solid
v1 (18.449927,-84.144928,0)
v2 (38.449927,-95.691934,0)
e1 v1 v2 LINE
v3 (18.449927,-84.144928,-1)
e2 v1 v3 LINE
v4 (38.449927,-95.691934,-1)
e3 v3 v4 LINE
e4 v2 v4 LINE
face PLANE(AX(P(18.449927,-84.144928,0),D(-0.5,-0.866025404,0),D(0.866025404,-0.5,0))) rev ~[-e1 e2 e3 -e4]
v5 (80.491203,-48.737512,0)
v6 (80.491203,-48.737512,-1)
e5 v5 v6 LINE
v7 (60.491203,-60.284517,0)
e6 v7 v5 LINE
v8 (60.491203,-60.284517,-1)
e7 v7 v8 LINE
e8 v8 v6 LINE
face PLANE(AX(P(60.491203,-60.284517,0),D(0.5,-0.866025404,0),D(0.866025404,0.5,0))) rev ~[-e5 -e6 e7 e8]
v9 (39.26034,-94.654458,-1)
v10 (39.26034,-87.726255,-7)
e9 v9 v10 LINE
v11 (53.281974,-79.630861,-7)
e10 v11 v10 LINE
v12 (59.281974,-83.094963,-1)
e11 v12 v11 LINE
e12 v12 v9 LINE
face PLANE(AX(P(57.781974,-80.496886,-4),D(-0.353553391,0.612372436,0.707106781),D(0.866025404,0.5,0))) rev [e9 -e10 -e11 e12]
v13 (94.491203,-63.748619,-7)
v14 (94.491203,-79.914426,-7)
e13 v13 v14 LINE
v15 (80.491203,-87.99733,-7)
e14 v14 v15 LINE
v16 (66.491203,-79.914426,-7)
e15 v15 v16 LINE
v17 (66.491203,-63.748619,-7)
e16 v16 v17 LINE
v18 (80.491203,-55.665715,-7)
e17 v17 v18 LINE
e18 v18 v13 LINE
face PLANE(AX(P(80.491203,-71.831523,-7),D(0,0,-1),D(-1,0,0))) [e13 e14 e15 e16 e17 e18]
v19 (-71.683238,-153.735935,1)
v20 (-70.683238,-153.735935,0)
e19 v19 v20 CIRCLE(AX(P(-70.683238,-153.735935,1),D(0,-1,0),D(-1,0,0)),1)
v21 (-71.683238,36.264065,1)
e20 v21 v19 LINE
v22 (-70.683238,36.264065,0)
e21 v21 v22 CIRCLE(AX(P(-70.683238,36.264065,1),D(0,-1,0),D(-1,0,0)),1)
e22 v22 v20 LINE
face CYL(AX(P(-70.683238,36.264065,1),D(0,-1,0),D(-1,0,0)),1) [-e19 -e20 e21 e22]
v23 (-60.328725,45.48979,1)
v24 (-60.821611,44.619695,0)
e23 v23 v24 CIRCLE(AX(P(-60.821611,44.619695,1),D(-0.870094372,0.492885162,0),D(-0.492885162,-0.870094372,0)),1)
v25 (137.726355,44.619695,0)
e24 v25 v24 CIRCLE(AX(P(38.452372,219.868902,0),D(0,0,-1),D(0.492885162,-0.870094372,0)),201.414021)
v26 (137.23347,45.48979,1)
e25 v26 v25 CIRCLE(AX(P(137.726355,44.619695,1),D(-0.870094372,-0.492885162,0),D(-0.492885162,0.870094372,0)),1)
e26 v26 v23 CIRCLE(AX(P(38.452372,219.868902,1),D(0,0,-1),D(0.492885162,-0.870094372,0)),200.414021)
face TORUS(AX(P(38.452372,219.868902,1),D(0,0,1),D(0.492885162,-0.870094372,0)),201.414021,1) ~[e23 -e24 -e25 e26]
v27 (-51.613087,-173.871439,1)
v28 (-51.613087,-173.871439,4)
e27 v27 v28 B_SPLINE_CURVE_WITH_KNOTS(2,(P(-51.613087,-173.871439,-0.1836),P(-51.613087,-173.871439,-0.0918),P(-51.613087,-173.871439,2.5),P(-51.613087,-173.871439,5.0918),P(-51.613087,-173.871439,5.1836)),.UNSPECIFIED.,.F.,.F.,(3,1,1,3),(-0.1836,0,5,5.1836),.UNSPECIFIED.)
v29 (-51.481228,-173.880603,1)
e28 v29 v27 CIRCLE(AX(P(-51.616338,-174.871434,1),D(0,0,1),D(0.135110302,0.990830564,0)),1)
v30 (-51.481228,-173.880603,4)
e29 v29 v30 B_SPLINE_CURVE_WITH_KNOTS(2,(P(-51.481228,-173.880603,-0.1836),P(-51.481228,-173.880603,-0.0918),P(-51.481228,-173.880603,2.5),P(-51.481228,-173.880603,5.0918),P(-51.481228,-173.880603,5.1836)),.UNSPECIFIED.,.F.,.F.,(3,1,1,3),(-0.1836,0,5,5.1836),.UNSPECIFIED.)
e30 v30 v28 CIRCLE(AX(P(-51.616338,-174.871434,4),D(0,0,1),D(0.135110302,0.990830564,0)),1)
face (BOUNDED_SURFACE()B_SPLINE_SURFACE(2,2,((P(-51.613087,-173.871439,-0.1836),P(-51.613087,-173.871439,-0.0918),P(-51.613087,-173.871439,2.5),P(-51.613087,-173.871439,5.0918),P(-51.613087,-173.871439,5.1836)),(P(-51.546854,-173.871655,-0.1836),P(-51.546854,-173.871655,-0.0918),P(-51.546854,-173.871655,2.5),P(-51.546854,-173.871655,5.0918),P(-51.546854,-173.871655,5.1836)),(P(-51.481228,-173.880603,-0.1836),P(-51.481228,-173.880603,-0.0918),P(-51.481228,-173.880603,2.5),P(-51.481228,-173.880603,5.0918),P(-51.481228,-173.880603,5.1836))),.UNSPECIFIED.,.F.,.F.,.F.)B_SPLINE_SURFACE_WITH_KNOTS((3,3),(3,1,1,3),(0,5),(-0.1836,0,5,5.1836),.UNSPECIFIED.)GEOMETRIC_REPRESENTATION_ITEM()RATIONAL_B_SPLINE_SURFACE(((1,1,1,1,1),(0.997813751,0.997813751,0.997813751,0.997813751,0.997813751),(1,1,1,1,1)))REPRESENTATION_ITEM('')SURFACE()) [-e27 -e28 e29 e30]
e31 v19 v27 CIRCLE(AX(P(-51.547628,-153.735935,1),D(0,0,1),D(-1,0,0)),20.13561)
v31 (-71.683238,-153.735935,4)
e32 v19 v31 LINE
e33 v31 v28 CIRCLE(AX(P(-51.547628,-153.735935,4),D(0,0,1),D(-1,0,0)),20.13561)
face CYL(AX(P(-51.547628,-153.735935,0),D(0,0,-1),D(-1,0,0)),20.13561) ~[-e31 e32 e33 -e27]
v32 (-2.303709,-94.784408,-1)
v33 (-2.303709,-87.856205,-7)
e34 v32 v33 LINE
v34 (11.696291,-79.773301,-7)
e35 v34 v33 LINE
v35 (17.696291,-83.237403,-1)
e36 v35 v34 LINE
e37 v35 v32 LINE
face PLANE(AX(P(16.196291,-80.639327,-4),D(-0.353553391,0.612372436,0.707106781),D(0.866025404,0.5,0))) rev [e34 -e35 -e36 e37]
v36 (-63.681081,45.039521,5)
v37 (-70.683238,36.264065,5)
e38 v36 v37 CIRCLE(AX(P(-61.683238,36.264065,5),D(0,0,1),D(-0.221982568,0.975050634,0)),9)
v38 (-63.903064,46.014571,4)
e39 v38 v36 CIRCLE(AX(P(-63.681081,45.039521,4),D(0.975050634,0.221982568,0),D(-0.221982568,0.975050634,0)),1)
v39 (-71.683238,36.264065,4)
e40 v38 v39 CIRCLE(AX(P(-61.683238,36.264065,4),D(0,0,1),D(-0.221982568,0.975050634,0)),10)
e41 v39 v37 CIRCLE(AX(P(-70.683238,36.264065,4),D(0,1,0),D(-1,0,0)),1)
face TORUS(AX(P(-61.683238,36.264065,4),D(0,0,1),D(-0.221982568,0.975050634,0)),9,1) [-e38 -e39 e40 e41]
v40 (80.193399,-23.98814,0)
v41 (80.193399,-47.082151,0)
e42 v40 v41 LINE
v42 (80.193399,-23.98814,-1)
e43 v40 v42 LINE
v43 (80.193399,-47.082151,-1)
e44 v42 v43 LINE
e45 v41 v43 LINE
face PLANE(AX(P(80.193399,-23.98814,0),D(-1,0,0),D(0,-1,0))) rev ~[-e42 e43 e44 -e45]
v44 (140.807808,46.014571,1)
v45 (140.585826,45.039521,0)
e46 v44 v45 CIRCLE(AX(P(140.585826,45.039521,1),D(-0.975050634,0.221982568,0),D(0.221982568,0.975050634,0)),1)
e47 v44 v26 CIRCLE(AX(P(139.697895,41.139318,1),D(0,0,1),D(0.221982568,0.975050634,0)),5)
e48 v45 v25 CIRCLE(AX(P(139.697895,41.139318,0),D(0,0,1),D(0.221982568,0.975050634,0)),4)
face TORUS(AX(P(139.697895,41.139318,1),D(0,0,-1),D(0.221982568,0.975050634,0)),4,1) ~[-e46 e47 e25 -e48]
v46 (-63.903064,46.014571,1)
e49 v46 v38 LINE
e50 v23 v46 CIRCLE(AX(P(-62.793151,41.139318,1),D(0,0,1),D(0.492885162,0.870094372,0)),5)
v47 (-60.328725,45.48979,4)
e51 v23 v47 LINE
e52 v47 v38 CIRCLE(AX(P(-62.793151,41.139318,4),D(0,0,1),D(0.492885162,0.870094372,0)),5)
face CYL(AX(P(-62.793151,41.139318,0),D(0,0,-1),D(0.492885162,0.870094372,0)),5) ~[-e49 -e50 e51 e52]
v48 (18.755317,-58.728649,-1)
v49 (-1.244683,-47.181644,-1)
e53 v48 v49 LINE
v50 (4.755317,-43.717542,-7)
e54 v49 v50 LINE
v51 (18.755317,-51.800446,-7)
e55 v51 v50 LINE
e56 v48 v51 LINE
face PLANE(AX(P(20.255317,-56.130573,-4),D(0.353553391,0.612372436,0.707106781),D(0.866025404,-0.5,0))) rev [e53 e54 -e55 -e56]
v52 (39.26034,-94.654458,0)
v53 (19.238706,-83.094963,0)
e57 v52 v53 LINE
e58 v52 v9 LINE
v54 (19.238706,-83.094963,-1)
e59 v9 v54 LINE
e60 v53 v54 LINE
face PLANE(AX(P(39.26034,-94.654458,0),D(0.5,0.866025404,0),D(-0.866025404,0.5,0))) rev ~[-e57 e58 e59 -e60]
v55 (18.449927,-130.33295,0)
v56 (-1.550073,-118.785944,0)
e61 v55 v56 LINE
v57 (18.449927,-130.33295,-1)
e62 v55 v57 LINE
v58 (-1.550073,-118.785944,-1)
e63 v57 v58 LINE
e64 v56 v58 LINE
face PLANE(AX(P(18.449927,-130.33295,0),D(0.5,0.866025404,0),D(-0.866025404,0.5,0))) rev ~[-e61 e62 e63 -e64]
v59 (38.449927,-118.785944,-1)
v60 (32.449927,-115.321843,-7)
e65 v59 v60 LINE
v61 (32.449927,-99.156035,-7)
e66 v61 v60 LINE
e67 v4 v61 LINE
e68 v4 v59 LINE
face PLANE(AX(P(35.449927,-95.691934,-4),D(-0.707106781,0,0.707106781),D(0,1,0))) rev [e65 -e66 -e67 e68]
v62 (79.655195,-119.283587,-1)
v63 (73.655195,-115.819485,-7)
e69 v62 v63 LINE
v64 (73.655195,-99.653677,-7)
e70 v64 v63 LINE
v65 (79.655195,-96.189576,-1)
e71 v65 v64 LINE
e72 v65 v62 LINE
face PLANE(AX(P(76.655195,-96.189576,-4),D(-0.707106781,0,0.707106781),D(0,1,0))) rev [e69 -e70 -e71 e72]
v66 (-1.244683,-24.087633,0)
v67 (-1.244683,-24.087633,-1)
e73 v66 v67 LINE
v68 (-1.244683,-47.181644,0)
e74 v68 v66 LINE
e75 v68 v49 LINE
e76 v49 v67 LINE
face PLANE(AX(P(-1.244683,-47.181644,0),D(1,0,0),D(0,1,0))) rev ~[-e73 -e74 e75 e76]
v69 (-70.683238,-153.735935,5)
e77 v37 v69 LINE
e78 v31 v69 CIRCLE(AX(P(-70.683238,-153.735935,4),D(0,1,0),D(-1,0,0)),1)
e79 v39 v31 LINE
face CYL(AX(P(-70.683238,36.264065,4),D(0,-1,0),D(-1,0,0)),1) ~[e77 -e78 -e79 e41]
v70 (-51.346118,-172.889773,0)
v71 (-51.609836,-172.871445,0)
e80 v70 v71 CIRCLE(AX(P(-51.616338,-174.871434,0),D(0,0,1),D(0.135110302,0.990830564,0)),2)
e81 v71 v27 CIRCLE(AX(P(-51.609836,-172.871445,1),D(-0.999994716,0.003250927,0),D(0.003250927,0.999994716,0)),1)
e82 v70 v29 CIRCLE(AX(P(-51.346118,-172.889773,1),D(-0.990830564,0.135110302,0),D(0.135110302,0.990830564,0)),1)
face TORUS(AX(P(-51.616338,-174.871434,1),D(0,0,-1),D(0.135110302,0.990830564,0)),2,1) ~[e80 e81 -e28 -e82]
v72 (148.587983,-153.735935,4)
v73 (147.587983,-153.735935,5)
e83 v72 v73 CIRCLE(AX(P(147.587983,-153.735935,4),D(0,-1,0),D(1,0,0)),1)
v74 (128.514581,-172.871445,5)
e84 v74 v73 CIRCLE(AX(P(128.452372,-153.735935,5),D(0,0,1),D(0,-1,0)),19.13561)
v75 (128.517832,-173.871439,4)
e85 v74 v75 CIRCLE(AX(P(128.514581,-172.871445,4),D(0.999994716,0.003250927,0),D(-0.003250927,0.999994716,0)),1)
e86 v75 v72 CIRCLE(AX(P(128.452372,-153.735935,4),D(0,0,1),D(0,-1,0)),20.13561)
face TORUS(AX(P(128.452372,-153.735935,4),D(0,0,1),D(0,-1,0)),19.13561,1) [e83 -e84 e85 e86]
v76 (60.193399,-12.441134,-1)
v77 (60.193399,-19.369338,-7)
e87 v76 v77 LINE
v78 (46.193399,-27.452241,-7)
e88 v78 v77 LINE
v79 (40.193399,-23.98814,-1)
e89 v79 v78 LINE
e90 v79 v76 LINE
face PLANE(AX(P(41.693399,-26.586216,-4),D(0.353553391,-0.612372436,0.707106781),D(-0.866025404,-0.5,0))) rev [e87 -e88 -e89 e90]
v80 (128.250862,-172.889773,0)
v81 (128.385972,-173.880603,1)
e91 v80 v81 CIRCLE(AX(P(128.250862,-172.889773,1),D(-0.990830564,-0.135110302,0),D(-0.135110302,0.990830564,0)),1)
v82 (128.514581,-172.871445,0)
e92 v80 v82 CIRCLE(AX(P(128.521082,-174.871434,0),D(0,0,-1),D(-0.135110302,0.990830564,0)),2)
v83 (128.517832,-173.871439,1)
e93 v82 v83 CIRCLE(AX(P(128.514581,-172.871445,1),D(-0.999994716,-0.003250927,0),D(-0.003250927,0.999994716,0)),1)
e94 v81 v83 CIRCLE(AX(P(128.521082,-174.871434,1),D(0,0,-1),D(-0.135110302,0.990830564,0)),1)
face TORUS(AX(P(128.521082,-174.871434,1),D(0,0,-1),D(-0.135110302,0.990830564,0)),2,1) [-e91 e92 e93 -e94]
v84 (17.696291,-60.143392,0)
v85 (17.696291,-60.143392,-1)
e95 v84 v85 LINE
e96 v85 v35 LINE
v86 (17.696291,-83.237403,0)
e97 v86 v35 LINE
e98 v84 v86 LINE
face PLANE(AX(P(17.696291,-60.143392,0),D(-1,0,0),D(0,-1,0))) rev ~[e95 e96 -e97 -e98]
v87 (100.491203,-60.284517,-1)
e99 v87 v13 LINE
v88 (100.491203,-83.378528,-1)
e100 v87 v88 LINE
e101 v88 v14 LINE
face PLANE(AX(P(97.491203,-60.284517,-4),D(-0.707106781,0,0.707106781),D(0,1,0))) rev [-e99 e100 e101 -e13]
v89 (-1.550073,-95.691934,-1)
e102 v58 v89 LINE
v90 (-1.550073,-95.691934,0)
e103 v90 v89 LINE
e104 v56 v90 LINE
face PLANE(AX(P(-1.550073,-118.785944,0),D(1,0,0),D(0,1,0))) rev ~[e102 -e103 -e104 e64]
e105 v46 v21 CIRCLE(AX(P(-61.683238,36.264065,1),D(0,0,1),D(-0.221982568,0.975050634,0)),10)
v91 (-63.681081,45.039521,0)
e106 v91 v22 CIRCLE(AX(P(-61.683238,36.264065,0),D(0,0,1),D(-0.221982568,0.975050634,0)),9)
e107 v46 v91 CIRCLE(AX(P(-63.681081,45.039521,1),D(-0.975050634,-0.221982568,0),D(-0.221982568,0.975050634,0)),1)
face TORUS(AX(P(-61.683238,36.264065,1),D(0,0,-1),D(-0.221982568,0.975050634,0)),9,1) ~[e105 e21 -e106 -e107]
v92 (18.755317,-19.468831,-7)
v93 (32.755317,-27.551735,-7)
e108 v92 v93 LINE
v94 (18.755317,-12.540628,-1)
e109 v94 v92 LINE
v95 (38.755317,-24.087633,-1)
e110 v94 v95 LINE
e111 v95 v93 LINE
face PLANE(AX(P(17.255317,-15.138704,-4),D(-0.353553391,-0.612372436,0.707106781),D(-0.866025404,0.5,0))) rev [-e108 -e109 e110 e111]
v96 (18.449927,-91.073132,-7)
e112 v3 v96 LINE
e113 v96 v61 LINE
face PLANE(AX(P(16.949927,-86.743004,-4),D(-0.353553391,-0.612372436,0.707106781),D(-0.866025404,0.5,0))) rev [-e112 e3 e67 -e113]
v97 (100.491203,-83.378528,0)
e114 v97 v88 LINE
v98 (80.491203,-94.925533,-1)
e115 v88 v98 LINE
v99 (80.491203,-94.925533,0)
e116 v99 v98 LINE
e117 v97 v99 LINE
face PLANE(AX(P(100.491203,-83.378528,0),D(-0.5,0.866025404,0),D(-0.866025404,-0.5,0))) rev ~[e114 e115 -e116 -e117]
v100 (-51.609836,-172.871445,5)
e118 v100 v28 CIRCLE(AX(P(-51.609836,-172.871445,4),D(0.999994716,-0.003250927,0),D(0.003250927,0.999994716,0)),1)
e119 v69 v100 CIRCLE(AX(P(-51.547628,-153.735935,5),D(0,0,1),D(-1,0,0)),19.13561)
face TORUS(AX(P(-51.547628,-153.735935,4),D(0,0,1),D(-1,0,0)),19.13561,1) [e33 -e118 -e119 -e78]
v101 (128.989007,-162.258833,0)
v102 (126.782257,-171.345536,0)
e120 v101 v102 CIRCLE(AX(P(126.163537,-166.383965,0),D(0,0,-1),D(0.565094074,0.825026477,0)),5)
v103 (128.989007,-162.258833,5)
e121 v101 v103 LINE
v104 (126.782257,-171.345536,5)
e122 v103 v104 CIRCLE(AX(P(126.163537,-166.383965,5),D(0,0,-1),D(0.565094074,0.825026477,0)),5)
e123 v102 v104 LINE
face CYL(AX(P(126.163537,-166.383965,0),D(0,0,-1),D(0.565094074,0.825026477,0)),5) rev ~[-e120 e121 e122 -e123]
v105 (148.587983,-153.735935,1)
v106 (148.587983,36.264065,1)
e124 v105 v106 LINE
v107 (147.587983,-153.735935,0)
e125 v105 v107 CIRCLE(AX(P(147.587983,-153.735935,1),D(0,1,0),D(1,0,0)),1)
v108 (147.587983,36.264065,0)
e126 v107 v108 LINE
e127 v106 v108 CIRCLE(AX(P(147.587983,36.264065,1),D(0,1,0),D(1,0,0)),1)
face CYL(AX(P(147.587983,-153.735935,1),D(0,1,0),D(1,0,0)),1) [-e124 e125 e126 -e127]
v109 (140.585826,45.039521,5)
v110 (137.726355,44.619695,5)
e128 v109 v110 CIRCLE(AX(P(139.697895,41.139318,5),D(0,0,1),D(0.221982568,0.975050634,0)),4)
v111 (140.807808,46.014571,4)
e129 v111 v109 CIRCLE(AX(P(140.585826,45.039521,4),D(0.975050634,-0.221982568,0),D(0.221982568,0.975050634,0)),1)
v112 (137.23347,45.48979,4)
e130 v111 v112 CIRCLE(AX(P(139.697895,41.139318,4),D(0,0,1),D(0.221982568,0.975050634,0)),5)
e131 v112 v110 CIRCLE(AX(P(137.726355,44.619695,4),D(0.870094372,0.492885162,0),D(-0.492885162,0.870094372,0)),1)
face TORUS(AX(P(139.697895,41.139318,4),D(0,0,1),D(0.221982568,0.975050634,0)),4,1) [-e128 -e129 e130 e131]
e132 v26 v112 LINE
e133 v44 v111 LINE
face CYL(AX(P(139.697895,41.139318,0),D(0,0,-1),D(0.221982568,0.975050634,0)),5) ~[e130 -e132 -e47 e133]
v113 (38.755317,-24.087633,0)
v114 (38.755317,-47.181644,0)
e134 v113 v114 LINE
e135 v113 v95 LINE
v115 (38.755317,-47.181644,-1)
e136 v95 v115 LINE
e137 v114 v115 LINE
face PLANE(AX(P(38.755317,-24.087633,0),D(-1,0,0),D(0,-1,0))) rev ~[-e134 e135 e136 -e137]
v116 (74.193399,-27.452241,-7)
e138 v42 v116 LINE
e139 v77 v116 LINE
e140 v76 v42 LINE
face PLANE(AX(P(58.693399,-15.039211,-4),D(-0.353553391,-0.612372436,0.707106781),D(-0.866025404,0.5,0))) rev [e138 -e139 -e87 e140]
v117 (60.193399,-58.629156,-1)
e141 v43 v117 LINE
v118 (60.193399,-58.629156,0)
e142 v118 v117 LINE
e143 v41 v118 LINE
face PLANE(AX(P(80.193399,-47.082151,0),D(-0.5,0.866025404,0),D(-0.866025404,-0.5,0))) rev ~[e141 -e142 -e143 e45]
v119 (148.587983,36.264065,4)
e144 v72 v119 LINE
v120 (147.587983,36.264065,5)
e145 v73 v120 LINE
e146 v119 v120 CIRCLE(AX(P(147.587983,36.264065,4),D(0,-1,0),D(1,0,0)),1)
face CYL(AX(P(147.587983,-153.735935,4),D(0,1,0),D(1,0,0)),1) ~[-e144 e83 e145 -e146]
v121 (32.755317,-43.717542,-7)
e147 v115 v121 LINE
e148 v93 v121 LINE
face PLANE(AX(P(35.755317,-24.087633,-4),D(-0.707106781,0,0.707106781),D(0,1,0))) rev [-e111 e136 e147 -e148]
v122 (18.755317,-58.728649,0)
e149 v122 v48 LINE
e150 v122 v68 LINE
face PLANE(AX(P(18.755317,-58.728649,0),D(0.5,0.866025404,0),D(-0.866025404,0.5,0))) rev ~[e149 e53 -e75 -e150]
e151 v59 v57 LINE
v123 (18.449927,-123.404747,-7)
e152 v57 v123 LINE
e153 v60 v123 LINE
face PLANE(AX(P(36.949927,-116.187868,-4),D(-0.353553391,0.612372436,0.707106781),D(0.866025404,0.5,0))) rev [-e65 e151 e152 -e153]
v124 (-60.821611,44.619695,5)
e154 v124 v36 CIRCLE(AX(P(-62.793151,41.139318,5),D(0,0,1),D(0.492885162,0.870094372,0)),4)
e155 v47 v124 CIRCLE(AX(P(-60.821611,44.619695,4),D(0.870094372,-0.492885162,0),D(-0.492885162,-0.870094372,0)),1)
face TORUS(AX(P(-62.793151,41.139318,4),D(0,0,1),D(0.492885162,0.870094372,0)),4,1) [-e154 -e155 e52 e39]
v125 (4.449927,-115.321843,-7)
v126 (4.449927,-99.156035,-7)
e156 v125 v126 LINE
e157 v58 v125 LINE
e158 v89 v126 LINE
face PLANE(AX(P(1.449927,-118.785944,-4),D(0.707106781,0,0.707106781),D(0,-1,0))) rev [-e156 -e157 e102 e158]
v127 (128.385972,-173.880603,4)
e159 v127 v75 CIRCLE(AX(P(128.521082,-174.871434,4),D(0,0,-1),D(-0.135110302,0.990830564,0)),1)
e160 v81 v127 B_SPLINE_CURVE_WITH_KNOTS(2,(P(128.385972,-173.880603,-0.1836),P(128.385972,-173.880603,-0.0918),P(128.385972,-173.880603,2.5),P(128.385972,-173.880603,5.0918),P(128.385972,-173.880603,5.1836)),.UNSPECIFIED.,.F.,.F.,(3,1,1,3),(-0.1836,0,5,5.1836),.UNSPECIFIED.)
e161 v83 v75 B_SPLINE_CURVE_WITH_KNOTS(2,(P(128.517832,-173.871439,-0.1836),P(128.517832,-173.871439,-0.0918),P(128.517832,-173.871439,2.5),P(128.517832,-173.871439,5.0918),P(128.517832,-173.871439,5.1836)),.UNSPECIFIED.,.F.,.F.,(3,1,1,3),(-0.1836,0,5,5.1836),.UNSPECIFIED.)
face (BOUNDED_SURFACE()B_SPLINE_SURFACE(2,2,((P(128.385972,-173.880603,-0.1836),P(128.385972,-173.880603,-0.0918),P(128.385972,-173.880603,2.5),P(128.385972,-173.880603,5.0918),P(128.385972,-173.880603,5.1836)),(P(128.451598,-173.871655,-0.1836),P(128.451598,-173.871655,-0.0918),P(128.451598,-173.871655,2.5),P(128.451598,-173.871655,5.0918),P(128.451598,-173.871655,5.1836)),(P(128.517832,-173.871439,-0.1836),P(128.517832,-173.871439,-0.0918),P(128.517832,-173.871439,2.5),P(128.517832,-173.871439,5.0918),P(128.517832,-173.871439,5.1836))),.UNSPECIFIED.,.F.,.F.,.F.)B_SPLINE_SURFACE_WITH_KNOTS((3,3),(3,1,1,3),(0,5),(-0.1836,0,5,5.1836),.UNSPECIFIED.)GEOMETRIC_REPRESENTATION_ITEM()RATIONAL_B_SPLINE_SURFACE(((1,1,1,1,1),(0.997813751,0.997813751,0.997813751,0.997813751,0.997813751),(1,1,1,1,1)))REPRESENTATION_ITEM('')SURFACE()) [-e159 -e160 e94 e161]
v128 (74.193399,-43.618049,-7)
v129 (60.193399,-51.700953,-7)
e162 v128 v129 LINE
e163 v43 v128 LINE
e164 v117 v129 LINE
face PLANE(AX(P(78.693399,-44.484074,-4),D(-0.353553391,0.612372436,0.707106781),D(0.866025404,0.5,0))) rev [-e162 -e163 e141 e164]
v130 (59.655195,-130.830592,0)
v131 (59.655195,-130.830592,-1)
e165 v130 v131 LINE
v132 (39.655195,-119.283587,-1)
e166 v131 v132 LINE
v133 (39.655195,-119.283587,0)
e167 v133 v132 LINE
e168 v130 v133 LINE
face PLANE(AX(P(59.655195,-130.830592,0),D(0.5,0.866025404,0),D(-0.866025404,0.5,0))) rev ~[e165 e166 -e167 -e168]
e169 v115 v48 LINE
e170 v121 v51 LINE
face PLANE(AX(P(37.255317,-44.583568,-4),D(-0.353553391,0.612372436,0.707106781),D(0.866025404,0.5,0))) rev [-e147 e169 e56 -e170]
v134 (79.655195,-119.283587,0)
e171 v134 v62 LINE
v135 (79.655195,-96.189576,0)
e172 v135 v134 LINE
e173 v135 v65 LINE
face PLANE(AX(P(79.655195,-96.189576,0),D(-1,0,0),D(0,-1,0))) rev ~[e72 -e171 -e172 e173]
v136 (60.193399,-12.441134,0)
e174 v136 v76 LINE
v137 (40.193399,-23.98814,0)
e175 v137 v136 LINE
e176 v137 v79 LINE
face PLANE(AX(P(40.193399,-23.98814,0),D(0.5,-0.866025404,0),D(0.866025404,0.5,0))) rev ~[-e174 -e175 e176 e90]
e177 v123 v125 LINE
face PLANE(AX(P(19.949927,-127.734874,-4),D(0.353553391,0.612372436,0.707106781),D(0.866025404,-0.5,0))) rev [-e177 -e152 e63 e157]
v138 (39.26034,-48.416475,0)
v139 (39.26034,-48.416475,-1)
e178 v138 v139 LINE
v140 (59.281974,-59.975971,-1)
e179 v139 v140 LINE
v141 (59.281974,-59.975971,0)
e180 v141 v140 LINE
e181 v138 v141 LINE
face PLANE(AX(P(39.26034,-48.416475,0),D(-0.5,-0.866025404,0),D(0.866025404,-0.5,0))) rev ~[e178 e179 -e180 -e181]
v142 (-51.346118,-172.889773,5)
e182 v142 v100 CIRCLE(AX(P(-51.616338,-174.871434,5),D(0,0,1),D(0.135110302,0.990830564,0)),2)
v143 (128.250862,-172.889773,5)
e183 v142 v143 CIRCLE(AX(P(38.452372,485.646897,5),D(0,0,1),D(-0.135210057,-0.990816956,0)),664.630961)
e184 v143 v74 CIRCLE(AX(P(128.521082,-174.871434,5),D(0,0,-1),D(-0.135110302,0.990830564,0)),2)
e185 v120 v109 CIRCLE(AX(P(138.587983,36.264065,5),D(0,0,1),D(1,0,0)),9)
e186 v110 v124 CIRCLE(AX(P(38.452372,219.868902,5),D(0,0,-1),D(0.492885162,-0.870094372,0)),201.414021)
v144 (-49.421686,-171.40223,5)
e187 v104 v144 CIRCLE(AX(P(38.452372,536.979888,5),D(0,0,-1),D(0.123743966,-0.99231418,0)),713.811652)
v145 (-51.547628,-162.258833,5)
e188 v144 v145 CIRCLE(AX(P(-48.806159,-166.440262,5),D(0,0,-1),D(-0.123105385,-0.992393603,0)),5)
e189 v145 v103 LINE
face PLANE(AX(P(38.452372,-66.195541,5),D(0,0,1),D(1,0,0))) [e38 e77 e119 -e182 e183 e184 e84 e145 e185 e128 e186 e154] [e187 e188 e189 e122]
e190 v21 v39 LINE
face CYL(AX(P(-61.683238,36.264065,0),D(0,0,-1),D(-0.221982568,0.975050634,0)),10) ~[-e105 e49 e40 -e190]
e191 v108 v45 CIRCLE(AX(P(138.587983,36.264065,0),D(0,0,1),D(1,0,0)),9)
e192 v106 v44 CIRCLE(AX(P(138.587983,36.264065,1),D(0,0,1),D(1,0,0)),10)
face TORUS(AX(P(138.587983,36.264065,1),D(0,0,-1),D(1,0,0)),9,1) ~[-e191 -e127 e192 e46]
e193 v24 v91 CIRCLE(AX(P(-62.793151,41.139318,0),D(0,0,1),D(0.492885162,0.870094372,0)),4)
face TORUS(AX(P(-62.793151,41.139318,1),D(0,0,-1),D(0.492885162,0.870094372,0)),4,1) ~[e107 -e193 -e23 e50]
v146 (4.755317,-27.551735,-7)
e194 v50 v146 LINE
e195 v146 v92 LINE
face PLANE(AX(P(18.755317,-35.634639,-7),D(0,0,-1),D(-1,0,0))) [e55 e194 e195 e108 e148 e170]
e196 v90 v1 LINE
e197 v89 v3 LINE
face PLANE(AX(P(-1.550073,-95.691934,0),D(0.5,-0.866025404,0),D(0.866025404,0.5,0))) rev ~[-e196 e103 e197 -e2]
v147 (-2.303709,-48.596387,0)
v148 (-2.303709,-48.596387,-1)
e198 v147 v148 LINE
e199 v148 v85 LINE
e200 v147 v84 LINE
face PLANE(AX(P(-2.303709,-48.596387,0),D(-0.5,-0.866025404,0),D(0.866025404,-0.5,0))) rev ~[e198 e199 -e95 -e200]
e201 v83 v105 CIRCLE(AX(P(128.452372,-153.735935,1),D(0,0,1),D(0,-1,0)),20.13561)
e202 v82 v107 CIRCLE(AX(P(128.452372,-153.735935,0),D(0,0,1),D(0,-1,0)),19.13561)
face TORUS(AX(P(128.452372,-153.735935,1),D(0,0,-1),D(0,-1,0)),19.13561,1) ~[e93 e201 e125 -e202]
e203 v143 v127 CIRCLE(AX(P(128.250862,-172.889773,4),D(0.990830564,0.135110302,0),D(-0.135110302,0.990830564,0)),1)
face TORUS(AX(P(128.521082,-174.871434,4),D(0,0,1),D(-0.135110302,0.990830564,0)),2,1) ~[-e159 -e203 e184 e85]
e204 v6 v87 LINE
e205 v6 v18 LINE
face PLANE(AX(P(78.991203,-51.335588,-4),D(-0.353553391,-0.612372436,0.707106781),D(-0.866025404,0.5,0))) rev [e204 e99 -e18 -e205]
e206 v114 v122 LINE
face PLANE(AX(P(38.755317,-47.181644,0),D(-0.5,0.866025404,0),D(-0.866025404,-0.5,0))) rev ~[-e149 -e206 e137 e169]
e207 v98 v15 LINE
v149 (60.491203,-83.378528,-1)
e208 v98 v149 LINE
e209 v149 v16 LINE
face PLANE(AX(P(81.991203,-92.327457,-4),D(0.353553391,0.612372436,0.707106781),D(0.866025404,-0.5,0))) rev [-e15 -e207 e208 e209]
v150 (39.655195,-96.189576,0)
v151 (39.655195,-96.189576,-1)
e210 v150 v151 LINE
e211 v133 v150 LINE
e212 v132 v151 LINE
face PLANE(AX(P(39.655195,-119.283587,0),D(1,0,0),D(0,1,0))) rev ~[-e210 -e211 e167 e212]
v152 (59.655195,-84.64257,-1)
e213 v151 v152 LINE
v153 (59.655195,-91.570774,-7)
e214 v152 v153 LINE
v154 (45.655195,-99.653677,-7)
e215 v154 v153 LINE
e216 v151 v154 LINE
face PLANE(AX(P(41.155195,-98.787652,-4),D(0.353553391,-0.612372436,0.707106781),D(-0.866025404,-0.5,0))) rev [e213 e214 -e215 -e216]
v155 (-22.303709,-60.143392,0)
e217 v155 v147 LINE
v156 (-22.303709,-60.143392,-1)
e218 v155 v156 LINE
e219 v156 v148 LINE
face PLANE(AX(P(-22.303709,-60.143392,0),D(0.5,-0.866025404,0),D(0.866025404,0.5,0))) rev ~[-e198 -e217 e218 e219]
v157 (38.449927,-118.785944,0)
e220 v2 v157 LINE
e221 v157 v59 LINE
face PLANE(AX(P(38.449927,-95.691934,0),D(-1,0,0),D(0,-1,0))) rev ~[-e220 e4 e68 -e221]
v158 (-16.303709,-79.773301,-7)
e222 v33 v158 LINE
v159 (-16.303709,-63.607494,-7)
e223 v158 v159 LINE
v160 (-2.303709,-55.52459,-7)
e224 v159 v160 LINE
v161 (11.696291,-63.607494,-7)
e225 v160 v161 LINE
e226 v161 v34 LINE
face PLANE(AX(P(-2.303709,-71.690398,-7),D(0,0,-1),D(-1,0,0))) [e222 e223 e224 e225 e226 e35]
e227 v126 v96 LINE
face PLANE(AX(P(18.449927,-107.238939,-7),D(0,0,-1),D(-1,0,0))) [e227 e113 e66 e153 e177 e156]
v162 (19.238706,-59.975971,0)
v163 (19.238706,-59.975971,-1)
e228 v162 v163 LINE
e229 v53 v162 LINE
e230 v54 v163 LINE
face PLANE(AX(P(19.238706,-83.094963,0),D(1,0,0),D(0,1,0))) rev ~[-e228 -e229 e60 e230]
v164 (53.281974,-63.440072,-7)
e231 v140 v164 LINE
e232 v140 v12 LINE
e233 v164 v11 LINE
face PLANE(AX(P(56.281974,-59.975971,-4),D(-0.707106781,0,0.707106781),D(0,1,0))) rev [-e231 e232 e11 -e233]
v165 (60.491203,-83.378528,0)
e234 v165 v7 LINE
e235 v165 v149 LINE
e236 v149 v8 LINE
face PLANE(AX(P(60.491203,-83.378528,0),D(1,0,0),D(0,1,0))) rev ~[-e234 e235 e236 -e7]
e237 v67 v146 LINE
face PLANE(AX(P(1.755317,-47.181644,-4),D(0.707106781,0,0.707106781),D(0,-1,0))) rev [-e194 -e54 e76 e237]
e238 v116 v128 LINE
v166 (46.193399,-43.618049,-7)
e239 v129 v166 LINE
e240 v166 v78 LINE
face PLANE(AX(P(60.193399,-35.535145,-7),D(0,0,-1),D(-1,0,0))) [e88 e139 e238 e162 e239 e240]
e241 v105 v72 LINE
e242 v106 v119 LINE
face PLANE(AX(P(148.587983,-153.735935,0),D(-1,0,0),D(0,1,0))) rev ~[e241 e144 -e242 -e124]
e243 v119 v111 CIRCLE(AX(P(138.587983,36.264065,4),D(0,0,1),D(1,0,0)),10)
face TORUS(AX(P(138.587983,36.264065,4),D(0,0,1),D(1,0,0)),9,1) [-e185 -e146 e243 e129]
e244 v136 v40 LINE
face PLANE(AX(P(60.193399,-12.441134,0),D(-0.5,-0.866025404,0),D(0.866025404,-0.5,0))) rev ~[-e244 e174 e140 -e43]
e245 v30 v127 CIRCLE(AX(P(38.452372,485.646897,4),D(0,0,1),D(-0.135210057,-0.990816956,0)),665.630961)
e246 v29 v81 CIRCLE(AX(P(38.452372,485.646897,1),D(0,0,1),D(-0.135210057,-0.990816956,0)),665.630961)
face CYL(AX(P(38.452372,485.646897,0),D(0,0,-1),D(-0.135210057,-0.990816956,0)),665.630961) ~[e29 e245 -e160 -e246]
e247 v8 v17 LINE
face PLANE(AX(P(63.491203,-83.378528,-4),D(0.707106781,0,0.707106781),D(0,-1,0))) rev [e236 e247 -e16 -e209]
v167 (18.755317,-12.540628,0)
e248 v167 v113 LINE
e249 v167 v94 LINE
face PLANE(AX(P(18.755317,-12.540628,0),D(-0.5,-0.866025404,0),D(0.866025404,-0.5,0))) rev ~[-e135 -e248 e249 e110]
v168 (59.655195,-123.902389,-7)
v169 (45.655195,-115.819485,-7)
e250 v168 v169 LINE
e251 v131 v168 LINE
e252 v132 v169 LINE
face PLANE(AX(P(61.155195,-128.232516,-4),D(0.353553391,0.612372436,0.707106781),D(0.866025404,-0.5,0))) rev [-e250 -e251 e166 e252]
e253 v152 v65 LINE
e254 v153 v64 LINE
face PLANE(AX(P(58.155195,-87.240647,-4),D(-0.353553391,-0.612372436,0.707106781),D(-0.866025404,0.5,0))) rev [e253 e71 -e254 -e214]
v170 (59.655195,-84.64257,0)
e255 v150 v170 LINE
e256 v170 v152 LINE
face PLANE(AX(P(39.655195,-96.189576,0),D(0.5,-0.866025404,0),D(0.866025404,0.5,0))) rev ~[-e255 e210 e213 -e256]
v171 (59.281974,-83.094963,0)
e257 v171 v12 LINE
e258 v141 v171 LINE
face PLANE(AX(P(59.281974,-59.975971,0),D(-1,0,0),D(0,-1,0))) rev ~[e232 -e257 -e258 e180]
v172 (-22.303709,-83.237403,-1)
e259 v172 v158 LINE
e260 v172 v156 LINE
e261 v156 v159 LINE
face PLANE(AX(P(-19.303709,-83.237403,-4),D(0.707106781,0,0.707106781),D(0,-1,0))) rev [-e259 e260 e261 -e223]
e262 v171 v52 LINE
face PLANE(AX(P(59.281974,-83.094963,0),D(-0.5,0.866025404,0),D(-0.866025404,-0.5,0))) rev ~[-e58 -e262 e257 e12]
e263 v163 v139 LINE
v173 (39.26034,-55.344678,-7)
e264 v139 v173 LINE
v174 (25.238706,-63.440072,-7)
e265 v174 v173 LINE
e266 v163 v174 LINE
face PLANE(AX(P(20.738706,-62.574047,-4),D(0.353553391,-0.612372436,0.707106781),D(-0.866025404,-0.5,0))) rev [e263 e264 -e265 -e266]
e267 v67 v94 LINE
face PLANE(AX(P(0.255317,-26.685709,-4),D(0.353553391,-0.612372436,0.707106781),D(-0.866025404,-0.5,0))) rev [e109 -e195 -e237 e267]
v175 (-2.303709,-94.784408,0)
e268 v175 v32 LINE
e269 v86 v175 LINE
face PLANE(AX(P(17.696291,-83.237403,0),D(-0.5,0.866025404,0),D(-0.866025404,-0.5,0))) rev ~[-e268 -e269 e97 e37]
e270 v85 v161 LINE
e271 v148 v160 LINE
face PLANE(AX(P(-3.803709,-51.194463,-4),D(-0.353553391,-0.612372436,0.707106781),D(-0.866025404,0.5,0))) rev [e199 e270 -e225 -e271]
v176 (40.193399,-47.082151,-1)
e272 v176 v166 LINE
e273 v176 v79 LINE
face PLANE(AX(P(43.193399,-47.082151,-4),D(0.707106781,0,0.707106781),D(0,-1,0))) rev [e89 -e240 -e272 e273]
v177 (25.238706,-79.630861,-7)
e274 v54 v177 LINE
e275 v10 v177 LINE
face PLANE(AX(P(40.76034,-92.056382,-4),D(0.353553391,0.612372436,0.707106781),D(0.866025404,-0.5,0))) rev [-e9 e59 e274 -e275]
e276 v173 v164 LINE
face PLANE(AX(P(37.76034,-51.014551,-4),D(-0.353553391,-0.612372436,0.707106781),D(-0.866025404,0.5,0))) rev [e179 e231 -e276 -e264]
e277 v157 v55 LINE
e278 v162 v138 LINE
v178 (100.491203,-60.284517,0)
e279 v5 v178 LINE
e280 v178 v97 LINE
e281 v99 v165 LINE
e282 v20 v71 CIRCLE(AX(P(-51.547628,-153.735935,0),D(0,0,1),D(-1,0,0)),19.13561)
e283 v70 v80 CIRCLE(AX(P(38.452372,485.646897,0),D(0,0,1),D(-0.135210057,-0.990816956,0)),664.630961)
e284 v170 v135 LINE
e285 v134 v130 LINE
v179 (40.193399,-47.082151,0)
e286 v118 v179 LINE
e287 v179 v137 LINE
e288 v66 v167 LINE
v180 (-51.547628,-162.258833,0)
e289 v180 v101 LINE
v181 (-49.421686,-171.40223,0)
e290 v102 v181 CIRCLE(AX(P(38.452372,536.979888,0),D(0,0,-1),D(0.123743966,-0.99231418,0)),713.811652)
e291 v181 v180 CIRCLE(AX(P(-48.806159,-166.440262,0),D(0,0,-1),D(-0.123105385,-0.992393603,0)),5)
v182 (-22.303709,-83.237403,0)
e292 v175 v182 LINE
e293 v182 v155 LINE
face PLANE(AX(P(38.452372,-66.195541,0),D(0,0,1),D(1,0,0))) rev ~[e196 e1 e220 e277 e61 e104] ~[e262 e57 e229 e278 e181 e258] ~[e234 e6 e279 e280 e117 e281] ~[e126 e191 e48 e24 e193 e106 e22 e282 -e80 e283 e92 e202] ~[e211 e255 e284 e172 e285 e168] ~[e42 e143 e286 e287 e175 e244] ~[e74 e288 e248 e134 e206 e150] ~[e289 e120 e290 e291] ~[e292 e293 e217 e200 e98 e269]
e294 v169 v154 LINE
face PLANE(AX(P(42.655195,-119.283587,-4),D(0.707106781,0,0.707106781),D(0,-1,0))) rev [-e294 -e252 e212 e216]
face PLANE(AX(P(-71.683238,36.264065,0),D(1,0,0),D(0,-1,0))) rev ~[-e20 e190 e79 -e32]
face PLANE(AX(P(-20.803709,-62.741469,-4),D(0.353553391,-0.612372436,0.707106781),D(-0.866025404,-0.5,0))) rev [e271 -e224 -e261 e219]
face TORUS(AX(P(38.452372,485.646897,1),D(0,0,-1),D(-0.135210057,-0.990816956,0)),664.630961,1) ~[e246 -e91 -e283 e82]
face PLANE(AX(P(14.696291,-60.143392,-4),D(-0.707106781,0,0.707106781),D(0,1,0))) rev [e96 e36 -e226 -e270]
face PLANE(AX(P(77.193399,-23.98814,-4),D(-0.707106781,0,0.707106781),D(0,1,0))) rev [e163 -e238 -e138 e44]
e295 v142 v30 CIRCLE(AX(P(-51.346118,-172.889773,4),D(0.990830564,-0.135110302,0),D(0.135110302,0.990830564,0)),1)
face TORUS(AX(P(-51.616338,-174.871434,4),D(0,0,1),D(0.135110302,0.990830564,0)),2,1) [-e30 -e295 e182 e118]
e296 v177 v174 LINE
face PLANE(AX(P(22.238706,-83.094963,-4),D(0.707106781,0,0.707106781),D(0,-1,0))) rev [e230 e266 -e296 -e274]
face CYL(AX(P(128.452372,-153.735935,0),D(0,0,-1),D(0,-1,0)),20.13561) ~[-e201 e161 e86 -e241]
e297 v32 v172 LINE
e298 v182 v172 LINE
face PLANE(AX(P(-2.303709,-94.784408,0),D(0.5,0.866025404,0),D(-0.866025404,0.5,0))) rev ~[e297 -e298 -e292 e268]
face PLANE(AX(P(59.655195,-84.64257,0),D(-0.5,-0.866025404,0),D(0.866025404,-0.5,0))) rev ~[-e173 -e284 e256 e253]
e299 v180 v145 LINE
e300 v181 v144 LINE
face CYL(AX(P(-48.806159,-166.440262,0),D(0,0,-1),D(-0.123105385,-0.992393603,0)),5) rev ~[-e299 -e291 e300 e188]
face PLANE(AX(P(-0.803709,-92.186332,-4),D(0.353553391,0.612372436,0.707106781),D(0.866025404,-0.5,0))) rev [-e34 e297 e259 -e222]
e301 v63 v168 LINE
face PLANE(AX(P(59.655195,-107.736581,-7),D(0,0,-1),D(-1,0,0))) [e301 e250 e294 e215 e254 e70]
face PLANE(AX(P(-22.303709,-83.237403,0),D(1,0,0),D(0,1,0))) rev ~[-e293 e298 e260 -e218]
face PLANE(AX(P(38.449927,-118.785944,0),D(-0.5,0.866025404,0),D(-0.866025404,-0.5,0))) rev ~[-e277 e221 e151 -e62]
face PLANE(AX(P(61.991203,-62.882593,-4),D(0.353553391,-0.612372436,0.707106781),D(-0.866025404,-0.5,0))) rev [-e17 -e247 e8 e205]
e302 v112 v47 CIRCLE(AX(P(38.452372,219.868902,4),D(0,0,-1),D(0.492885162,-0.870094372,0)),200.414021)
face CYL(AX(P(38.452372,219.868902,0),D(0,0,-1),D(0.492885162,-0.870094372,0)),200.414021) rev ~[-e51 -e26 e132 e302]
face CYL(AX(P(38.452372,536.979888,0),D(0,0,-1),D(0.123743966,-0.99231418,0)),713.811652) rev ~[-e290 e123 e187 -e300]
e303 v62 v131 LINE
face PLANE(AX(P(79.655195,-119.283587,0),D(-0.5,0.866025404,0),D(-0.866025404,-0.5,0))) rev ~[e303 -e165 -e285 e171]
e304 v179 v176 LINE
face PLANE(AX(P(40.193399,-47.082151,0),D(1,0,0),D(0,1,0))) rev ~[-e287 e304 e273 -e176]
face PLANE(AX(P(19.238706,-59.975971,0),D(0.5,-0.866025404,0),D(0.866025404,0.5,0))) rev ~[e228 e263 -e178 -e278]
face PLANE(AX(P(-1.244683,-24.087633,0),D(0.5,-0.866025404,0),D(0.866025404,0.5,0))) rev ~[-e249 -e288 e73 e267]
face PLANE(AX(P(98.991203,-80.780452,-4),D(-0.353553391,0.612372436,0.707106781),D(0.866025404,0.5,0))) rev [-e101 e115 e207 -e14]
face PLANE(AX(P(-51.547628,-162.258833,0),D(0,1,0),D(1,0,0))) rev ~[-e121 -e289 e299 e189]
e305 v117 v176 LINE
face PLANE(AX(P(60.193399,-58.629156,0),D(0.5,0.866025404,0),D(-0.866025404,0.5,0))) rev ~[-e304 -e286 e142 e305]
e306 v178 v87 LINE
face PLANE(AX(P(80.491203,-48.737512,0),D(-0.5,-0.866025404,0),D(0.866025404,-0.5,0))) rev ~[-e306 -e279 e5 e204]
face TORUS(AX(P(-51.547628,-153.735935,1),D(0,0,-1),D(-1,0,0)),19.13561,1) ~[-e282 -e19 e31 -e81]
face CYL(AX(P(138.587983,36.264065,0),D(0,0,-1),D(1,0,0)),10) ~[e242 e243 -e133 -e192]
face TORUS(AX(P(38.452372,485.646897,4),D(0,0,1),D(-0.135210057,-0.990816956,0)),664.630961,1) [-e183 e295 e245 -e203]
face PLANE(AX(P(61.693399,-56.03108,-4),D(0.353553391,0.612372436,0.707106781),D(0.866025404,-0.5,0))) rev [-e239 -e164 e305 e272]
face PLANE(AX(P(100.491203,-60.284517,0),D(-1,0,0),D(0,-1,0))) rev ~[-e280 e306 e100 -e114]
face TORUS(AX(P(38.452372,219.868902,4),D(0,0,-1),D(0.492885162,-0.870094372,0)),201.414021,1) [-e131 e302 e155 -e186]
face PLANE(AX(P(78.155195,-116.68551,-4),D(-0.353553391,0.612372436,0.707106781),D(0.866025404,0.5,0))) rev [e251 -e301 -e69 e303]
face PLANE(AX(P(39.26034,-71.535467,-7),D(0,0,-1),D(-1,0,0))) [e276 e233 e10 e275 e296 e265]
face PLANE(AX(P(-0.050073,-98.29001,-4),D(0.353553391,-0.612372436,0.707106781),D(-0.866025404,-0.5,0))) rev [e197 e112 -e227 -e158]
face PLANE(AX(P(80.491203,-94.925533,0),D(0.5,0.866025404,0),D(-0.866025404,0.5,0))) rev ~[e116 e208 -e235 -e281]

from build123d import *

# Parameters (mm, degrees)
BOSS_EXTRUDE1_DEPTH  = 5
FILLET1_R            = 1
BOSS_EXTRUDE17_DEPTH = 7
CHAMFER1_SIZE        = 6
CHAMFER2_SIZE        = 6
CHAMFER3_SIZE        = 6


with BuildPart() as part:
    # Sketch2 → Boss-Extrude1 (new body)
    with BuildSketch(Plane.XY):
        with BuildLine():
            Line((-71.683238322, 36.264064839), (-71.683238322, -153.735935161))
            ThreePointArc((-71.683238322, -153.735935161), (-65.785654561, -167.973961861), (-51.547627861, -173.871545622))
            ThreePointArc((-51.547627861, -173.871545622), (38.452372139, -179.984063939), (128.452372139, -173.871545622))
            ThreePointArc((128.452372139, -173.871545622), (142.690398839, -167.973961861), (148.5879826, -153.735935161))
            Line((148.5879826, -153.735935161), (148.5879826, 36.264064839))
            ThreePointArc((148.5879826, 36.264064839), (146.404575746, 42.501121163), (140.807808283, 46.014571182))
            ThreePointArc((140.807808283, 46.014571182), (138.971586139, 46.086284232), (137.233469629, 45.489789872))
            ThreePointArc((137.233469629, 45.489789872), (38.452372139, 19.454880614), (-60.328725351, 45.489789872))
            ThreePointArc((-60.328725351, 45.489789872), (-62.066841861, 46.086284232), (-63.903064005, 46.014571182))
            ThreePointArc((-63.903064005, 46.014571182), (-69.499831468, 42.501121163), (-71.683238322, 36.264064839))
        make_face()
        with BuildLine():
            Line((-51.547627861, -162.258832658), (128.989007395, -162.258832658))
            ThreePointArc((128.989007395, -162.258832658), (131.022308029, -167.563941455), (126.782256855, -171.345535941))
            ThreePointArc((126.782256855, -171.345535941), (38.682041526, -176.831727196), (-49.421685934, -171.402229683))
            ThreePointArc((-49.421685934, -171.402229683), (-53.676249609, -167.572612121), (-51.547627861, -162.258832658))
        make_face(mode=Mode.SUBTRACT)
    extrude(amount=BOSS_EXTRUDE1_DEPTH)

    # Fillet1
    fillet1_edges = [part.edges().sort_by_distance(p)[0] for p in [
        (38.452372139, 19.454880614, 5),
        (38.452372139, -179.984063939, 0),
        (-65.785654561, -167.973961861, 0),
        (-71.683238322, -58.735935161, 0),
        (-69.499831468, 42.501121163, 0),
        (-62.066841861, 46.086284232, 0),
        (38.452372139, 19.454880614, 0),
        (138.971586139, 46.086284232, 0),
        (146.404575746, 42.501121163, 0),
        (-62.066841861, 46.086284232, 5),
        (-69.499831468, 42.501121163, 5),
        (128.452372139, -173.871545622, 2.5),
        (-51.547627861, -173.871545622, 2.5),
        (-71.683238322, -58.735935161, 5),
        (-65.785654561, -167.973961861, 5),
        (38.452372139, -179.984063939, 5),
        (142.690398839, -167.973961861, 5),
        (148.5879826, -58.735935161, 5),
        (146.404575746, 42.501121163, 5),
        (138.971586139, 46.086284232, 5),
        (148.5879826, -58.735935161, 0),
        (142.690398839, -167.973961861, 0),
    ]]
    fillet(fillet1_edges, radius=FILLET1_R)

    # Sketch3 → Boss-Extrude17 (add)
    with BuildSketch(Plane(origin=(0, 0, 0), x_dir=(-1, 0, 0), z_dir=(0, 0, -1))):
        Polygon((-60.193398692, -12.441134496), (-80.193398692, -23.98813988), (-80.193398692, -47.082150648), (-60.193398692, -58.629156031), (-40.193398692, -47.082150648), (-40.193398692, -23.98813988), align=None)
        Polygon((-39.260340262, -48.416474981), (-59.281974378, -59.975970827), (-59.281974378, -83.094962521), (-39.260340262, -94.654458367), (-19.238706146, -83.094962521), (-19.238706146, -59.975970827), align=None)
        Polygon((-59.655195417, -84.642570383), (-79.655195417, -96.189575767), (-79.655195417, -119.283586535), (-59.655195417, -130.830591919), (-39.655195417, -119.283586535), (-39.655195417, -96.189575767), align=None)
        Polygon((-18.449927197, -84.144928283), (-38.449927197, -95.691933667), (-38.449927197, -118.785944435), (-18.449927197, -130.332949819), (1.550072803, -118.785944435), (1.550072803, -95.691933667), align=None)
        Polygon((2.303708649, -48.596386935), (-17.696291351, -60.143392319), (-17.696291351, -83.237403087), (2.303708649, -94.78440847), (22.303708649, -83.237403087), (22.303708649, -60.143392319), align=None)
        Polygon((-80.491202658, -48.737511822), (-100.491202658, -60.284517205), (-100.491202658, -83.378527973), (-80.491202658, -94.925533357), (-60.491202658, -83.378527973), (-60.491202658, -60.284517205), align=None)
        Polygon((-18.755317237, -12.540627892), (-38.755317237, -24.087633275), (-38.755317237, -47.181644043), (-18.755317237, -58.728649427), (1.244682763, -47.181644043), (1.244682763, -24.087633275), align=None)
    extrude(amount=BOSS_EXTRUDE17_DEPTH)

    # Chamfer1
    chamfer1_edges = [part.edges().sort_by_distance(p)[0] for p in [
        (70.491202658, -54.511014514, -7),
        (90.491202658, -54.511014514, -7),
        (100.491202658, -71.831522589, -7),
        (90.491202658, -89.152030665, -7),
        (70.491202658, -89.152030665, -7),
        (60.491202658, -71.831522589, -7),
    ]]
    chamfer(chamfer1_edges, length=CHAMFER1_SIZE)

    # Chamfer2
    chamfer2_edges = [part.edges().sort_by_distance(p)[0] for p in [
        (-12.303708649, -54.369889627, -7),
        (7.696291351, -54.369889627, -7),
        (17.696291351, -71.690397703, -7),
        (7.696291351, -89.010905779, -7),
        (-12.303708649, -89.010905779, -7),
        (-22.303708649, -71.690397703, -7),
    ]]
    chamfer(chamfer2_edges, length=CHAMFER2_SIZE)

    # Chamfer3
    chamfer3_edges = [part.edges().sort_by_distance(p)[0] for p in [
        (50.193398692, -18.214637188, -7),
        (70.193398692, -18.214637188, -7),
        (80.193398692, -35.535145264, -7),
        (70.193398692, -52.855653339, -7),
        (50.193398692, -52.855653339, -7),
        (40.193398692, -35.535145264, -7),
        (29.249523204, -54.196222904, -7),
        (49.27115732, -54.196222904, -7),
        (59.281974378, -71.535466674, -7),
        (49.27115732, -88.874710444, -7),
        (29.249523204, -88.874710444, -7),
        (19.238706146, -71.535466674, -7),
        (49.655195417, -90.416073075, -7),
        (69.655195417, -90.416073075, -7),
        (79.655195417, -107.736581151, -7),
        (69.655195417, -125.057089227, -7),
        (49.655195417, -125.057089227, -7),
        (39.655195417, -107.736581151, -7),
        (8.449927197, -89.918430975, -7),
        (28.449927197, -89.918430975, -7),
        (38.449927197, -107.238939051, -7),
        (28.449927197, -124.559447127, -7),
        (8.449927197, -124.559447127, -7),
        (-1.550072803, -107.238939051, -7),
        (8.755317237, -18.314130583, -7),
        (28.755317237, -18.314130583, -7),
        (38.755317237, -35.634638659, -7),
        (28.755317237, -52.955146735, -7),
        (8.755317237, -52.955146735, -7),
        (-1.244682763, -35.634638659, -7),
    ]]
    chamfer(chamfer3_edges, length=CHAMFER3_SIZE)


solid = part.part
